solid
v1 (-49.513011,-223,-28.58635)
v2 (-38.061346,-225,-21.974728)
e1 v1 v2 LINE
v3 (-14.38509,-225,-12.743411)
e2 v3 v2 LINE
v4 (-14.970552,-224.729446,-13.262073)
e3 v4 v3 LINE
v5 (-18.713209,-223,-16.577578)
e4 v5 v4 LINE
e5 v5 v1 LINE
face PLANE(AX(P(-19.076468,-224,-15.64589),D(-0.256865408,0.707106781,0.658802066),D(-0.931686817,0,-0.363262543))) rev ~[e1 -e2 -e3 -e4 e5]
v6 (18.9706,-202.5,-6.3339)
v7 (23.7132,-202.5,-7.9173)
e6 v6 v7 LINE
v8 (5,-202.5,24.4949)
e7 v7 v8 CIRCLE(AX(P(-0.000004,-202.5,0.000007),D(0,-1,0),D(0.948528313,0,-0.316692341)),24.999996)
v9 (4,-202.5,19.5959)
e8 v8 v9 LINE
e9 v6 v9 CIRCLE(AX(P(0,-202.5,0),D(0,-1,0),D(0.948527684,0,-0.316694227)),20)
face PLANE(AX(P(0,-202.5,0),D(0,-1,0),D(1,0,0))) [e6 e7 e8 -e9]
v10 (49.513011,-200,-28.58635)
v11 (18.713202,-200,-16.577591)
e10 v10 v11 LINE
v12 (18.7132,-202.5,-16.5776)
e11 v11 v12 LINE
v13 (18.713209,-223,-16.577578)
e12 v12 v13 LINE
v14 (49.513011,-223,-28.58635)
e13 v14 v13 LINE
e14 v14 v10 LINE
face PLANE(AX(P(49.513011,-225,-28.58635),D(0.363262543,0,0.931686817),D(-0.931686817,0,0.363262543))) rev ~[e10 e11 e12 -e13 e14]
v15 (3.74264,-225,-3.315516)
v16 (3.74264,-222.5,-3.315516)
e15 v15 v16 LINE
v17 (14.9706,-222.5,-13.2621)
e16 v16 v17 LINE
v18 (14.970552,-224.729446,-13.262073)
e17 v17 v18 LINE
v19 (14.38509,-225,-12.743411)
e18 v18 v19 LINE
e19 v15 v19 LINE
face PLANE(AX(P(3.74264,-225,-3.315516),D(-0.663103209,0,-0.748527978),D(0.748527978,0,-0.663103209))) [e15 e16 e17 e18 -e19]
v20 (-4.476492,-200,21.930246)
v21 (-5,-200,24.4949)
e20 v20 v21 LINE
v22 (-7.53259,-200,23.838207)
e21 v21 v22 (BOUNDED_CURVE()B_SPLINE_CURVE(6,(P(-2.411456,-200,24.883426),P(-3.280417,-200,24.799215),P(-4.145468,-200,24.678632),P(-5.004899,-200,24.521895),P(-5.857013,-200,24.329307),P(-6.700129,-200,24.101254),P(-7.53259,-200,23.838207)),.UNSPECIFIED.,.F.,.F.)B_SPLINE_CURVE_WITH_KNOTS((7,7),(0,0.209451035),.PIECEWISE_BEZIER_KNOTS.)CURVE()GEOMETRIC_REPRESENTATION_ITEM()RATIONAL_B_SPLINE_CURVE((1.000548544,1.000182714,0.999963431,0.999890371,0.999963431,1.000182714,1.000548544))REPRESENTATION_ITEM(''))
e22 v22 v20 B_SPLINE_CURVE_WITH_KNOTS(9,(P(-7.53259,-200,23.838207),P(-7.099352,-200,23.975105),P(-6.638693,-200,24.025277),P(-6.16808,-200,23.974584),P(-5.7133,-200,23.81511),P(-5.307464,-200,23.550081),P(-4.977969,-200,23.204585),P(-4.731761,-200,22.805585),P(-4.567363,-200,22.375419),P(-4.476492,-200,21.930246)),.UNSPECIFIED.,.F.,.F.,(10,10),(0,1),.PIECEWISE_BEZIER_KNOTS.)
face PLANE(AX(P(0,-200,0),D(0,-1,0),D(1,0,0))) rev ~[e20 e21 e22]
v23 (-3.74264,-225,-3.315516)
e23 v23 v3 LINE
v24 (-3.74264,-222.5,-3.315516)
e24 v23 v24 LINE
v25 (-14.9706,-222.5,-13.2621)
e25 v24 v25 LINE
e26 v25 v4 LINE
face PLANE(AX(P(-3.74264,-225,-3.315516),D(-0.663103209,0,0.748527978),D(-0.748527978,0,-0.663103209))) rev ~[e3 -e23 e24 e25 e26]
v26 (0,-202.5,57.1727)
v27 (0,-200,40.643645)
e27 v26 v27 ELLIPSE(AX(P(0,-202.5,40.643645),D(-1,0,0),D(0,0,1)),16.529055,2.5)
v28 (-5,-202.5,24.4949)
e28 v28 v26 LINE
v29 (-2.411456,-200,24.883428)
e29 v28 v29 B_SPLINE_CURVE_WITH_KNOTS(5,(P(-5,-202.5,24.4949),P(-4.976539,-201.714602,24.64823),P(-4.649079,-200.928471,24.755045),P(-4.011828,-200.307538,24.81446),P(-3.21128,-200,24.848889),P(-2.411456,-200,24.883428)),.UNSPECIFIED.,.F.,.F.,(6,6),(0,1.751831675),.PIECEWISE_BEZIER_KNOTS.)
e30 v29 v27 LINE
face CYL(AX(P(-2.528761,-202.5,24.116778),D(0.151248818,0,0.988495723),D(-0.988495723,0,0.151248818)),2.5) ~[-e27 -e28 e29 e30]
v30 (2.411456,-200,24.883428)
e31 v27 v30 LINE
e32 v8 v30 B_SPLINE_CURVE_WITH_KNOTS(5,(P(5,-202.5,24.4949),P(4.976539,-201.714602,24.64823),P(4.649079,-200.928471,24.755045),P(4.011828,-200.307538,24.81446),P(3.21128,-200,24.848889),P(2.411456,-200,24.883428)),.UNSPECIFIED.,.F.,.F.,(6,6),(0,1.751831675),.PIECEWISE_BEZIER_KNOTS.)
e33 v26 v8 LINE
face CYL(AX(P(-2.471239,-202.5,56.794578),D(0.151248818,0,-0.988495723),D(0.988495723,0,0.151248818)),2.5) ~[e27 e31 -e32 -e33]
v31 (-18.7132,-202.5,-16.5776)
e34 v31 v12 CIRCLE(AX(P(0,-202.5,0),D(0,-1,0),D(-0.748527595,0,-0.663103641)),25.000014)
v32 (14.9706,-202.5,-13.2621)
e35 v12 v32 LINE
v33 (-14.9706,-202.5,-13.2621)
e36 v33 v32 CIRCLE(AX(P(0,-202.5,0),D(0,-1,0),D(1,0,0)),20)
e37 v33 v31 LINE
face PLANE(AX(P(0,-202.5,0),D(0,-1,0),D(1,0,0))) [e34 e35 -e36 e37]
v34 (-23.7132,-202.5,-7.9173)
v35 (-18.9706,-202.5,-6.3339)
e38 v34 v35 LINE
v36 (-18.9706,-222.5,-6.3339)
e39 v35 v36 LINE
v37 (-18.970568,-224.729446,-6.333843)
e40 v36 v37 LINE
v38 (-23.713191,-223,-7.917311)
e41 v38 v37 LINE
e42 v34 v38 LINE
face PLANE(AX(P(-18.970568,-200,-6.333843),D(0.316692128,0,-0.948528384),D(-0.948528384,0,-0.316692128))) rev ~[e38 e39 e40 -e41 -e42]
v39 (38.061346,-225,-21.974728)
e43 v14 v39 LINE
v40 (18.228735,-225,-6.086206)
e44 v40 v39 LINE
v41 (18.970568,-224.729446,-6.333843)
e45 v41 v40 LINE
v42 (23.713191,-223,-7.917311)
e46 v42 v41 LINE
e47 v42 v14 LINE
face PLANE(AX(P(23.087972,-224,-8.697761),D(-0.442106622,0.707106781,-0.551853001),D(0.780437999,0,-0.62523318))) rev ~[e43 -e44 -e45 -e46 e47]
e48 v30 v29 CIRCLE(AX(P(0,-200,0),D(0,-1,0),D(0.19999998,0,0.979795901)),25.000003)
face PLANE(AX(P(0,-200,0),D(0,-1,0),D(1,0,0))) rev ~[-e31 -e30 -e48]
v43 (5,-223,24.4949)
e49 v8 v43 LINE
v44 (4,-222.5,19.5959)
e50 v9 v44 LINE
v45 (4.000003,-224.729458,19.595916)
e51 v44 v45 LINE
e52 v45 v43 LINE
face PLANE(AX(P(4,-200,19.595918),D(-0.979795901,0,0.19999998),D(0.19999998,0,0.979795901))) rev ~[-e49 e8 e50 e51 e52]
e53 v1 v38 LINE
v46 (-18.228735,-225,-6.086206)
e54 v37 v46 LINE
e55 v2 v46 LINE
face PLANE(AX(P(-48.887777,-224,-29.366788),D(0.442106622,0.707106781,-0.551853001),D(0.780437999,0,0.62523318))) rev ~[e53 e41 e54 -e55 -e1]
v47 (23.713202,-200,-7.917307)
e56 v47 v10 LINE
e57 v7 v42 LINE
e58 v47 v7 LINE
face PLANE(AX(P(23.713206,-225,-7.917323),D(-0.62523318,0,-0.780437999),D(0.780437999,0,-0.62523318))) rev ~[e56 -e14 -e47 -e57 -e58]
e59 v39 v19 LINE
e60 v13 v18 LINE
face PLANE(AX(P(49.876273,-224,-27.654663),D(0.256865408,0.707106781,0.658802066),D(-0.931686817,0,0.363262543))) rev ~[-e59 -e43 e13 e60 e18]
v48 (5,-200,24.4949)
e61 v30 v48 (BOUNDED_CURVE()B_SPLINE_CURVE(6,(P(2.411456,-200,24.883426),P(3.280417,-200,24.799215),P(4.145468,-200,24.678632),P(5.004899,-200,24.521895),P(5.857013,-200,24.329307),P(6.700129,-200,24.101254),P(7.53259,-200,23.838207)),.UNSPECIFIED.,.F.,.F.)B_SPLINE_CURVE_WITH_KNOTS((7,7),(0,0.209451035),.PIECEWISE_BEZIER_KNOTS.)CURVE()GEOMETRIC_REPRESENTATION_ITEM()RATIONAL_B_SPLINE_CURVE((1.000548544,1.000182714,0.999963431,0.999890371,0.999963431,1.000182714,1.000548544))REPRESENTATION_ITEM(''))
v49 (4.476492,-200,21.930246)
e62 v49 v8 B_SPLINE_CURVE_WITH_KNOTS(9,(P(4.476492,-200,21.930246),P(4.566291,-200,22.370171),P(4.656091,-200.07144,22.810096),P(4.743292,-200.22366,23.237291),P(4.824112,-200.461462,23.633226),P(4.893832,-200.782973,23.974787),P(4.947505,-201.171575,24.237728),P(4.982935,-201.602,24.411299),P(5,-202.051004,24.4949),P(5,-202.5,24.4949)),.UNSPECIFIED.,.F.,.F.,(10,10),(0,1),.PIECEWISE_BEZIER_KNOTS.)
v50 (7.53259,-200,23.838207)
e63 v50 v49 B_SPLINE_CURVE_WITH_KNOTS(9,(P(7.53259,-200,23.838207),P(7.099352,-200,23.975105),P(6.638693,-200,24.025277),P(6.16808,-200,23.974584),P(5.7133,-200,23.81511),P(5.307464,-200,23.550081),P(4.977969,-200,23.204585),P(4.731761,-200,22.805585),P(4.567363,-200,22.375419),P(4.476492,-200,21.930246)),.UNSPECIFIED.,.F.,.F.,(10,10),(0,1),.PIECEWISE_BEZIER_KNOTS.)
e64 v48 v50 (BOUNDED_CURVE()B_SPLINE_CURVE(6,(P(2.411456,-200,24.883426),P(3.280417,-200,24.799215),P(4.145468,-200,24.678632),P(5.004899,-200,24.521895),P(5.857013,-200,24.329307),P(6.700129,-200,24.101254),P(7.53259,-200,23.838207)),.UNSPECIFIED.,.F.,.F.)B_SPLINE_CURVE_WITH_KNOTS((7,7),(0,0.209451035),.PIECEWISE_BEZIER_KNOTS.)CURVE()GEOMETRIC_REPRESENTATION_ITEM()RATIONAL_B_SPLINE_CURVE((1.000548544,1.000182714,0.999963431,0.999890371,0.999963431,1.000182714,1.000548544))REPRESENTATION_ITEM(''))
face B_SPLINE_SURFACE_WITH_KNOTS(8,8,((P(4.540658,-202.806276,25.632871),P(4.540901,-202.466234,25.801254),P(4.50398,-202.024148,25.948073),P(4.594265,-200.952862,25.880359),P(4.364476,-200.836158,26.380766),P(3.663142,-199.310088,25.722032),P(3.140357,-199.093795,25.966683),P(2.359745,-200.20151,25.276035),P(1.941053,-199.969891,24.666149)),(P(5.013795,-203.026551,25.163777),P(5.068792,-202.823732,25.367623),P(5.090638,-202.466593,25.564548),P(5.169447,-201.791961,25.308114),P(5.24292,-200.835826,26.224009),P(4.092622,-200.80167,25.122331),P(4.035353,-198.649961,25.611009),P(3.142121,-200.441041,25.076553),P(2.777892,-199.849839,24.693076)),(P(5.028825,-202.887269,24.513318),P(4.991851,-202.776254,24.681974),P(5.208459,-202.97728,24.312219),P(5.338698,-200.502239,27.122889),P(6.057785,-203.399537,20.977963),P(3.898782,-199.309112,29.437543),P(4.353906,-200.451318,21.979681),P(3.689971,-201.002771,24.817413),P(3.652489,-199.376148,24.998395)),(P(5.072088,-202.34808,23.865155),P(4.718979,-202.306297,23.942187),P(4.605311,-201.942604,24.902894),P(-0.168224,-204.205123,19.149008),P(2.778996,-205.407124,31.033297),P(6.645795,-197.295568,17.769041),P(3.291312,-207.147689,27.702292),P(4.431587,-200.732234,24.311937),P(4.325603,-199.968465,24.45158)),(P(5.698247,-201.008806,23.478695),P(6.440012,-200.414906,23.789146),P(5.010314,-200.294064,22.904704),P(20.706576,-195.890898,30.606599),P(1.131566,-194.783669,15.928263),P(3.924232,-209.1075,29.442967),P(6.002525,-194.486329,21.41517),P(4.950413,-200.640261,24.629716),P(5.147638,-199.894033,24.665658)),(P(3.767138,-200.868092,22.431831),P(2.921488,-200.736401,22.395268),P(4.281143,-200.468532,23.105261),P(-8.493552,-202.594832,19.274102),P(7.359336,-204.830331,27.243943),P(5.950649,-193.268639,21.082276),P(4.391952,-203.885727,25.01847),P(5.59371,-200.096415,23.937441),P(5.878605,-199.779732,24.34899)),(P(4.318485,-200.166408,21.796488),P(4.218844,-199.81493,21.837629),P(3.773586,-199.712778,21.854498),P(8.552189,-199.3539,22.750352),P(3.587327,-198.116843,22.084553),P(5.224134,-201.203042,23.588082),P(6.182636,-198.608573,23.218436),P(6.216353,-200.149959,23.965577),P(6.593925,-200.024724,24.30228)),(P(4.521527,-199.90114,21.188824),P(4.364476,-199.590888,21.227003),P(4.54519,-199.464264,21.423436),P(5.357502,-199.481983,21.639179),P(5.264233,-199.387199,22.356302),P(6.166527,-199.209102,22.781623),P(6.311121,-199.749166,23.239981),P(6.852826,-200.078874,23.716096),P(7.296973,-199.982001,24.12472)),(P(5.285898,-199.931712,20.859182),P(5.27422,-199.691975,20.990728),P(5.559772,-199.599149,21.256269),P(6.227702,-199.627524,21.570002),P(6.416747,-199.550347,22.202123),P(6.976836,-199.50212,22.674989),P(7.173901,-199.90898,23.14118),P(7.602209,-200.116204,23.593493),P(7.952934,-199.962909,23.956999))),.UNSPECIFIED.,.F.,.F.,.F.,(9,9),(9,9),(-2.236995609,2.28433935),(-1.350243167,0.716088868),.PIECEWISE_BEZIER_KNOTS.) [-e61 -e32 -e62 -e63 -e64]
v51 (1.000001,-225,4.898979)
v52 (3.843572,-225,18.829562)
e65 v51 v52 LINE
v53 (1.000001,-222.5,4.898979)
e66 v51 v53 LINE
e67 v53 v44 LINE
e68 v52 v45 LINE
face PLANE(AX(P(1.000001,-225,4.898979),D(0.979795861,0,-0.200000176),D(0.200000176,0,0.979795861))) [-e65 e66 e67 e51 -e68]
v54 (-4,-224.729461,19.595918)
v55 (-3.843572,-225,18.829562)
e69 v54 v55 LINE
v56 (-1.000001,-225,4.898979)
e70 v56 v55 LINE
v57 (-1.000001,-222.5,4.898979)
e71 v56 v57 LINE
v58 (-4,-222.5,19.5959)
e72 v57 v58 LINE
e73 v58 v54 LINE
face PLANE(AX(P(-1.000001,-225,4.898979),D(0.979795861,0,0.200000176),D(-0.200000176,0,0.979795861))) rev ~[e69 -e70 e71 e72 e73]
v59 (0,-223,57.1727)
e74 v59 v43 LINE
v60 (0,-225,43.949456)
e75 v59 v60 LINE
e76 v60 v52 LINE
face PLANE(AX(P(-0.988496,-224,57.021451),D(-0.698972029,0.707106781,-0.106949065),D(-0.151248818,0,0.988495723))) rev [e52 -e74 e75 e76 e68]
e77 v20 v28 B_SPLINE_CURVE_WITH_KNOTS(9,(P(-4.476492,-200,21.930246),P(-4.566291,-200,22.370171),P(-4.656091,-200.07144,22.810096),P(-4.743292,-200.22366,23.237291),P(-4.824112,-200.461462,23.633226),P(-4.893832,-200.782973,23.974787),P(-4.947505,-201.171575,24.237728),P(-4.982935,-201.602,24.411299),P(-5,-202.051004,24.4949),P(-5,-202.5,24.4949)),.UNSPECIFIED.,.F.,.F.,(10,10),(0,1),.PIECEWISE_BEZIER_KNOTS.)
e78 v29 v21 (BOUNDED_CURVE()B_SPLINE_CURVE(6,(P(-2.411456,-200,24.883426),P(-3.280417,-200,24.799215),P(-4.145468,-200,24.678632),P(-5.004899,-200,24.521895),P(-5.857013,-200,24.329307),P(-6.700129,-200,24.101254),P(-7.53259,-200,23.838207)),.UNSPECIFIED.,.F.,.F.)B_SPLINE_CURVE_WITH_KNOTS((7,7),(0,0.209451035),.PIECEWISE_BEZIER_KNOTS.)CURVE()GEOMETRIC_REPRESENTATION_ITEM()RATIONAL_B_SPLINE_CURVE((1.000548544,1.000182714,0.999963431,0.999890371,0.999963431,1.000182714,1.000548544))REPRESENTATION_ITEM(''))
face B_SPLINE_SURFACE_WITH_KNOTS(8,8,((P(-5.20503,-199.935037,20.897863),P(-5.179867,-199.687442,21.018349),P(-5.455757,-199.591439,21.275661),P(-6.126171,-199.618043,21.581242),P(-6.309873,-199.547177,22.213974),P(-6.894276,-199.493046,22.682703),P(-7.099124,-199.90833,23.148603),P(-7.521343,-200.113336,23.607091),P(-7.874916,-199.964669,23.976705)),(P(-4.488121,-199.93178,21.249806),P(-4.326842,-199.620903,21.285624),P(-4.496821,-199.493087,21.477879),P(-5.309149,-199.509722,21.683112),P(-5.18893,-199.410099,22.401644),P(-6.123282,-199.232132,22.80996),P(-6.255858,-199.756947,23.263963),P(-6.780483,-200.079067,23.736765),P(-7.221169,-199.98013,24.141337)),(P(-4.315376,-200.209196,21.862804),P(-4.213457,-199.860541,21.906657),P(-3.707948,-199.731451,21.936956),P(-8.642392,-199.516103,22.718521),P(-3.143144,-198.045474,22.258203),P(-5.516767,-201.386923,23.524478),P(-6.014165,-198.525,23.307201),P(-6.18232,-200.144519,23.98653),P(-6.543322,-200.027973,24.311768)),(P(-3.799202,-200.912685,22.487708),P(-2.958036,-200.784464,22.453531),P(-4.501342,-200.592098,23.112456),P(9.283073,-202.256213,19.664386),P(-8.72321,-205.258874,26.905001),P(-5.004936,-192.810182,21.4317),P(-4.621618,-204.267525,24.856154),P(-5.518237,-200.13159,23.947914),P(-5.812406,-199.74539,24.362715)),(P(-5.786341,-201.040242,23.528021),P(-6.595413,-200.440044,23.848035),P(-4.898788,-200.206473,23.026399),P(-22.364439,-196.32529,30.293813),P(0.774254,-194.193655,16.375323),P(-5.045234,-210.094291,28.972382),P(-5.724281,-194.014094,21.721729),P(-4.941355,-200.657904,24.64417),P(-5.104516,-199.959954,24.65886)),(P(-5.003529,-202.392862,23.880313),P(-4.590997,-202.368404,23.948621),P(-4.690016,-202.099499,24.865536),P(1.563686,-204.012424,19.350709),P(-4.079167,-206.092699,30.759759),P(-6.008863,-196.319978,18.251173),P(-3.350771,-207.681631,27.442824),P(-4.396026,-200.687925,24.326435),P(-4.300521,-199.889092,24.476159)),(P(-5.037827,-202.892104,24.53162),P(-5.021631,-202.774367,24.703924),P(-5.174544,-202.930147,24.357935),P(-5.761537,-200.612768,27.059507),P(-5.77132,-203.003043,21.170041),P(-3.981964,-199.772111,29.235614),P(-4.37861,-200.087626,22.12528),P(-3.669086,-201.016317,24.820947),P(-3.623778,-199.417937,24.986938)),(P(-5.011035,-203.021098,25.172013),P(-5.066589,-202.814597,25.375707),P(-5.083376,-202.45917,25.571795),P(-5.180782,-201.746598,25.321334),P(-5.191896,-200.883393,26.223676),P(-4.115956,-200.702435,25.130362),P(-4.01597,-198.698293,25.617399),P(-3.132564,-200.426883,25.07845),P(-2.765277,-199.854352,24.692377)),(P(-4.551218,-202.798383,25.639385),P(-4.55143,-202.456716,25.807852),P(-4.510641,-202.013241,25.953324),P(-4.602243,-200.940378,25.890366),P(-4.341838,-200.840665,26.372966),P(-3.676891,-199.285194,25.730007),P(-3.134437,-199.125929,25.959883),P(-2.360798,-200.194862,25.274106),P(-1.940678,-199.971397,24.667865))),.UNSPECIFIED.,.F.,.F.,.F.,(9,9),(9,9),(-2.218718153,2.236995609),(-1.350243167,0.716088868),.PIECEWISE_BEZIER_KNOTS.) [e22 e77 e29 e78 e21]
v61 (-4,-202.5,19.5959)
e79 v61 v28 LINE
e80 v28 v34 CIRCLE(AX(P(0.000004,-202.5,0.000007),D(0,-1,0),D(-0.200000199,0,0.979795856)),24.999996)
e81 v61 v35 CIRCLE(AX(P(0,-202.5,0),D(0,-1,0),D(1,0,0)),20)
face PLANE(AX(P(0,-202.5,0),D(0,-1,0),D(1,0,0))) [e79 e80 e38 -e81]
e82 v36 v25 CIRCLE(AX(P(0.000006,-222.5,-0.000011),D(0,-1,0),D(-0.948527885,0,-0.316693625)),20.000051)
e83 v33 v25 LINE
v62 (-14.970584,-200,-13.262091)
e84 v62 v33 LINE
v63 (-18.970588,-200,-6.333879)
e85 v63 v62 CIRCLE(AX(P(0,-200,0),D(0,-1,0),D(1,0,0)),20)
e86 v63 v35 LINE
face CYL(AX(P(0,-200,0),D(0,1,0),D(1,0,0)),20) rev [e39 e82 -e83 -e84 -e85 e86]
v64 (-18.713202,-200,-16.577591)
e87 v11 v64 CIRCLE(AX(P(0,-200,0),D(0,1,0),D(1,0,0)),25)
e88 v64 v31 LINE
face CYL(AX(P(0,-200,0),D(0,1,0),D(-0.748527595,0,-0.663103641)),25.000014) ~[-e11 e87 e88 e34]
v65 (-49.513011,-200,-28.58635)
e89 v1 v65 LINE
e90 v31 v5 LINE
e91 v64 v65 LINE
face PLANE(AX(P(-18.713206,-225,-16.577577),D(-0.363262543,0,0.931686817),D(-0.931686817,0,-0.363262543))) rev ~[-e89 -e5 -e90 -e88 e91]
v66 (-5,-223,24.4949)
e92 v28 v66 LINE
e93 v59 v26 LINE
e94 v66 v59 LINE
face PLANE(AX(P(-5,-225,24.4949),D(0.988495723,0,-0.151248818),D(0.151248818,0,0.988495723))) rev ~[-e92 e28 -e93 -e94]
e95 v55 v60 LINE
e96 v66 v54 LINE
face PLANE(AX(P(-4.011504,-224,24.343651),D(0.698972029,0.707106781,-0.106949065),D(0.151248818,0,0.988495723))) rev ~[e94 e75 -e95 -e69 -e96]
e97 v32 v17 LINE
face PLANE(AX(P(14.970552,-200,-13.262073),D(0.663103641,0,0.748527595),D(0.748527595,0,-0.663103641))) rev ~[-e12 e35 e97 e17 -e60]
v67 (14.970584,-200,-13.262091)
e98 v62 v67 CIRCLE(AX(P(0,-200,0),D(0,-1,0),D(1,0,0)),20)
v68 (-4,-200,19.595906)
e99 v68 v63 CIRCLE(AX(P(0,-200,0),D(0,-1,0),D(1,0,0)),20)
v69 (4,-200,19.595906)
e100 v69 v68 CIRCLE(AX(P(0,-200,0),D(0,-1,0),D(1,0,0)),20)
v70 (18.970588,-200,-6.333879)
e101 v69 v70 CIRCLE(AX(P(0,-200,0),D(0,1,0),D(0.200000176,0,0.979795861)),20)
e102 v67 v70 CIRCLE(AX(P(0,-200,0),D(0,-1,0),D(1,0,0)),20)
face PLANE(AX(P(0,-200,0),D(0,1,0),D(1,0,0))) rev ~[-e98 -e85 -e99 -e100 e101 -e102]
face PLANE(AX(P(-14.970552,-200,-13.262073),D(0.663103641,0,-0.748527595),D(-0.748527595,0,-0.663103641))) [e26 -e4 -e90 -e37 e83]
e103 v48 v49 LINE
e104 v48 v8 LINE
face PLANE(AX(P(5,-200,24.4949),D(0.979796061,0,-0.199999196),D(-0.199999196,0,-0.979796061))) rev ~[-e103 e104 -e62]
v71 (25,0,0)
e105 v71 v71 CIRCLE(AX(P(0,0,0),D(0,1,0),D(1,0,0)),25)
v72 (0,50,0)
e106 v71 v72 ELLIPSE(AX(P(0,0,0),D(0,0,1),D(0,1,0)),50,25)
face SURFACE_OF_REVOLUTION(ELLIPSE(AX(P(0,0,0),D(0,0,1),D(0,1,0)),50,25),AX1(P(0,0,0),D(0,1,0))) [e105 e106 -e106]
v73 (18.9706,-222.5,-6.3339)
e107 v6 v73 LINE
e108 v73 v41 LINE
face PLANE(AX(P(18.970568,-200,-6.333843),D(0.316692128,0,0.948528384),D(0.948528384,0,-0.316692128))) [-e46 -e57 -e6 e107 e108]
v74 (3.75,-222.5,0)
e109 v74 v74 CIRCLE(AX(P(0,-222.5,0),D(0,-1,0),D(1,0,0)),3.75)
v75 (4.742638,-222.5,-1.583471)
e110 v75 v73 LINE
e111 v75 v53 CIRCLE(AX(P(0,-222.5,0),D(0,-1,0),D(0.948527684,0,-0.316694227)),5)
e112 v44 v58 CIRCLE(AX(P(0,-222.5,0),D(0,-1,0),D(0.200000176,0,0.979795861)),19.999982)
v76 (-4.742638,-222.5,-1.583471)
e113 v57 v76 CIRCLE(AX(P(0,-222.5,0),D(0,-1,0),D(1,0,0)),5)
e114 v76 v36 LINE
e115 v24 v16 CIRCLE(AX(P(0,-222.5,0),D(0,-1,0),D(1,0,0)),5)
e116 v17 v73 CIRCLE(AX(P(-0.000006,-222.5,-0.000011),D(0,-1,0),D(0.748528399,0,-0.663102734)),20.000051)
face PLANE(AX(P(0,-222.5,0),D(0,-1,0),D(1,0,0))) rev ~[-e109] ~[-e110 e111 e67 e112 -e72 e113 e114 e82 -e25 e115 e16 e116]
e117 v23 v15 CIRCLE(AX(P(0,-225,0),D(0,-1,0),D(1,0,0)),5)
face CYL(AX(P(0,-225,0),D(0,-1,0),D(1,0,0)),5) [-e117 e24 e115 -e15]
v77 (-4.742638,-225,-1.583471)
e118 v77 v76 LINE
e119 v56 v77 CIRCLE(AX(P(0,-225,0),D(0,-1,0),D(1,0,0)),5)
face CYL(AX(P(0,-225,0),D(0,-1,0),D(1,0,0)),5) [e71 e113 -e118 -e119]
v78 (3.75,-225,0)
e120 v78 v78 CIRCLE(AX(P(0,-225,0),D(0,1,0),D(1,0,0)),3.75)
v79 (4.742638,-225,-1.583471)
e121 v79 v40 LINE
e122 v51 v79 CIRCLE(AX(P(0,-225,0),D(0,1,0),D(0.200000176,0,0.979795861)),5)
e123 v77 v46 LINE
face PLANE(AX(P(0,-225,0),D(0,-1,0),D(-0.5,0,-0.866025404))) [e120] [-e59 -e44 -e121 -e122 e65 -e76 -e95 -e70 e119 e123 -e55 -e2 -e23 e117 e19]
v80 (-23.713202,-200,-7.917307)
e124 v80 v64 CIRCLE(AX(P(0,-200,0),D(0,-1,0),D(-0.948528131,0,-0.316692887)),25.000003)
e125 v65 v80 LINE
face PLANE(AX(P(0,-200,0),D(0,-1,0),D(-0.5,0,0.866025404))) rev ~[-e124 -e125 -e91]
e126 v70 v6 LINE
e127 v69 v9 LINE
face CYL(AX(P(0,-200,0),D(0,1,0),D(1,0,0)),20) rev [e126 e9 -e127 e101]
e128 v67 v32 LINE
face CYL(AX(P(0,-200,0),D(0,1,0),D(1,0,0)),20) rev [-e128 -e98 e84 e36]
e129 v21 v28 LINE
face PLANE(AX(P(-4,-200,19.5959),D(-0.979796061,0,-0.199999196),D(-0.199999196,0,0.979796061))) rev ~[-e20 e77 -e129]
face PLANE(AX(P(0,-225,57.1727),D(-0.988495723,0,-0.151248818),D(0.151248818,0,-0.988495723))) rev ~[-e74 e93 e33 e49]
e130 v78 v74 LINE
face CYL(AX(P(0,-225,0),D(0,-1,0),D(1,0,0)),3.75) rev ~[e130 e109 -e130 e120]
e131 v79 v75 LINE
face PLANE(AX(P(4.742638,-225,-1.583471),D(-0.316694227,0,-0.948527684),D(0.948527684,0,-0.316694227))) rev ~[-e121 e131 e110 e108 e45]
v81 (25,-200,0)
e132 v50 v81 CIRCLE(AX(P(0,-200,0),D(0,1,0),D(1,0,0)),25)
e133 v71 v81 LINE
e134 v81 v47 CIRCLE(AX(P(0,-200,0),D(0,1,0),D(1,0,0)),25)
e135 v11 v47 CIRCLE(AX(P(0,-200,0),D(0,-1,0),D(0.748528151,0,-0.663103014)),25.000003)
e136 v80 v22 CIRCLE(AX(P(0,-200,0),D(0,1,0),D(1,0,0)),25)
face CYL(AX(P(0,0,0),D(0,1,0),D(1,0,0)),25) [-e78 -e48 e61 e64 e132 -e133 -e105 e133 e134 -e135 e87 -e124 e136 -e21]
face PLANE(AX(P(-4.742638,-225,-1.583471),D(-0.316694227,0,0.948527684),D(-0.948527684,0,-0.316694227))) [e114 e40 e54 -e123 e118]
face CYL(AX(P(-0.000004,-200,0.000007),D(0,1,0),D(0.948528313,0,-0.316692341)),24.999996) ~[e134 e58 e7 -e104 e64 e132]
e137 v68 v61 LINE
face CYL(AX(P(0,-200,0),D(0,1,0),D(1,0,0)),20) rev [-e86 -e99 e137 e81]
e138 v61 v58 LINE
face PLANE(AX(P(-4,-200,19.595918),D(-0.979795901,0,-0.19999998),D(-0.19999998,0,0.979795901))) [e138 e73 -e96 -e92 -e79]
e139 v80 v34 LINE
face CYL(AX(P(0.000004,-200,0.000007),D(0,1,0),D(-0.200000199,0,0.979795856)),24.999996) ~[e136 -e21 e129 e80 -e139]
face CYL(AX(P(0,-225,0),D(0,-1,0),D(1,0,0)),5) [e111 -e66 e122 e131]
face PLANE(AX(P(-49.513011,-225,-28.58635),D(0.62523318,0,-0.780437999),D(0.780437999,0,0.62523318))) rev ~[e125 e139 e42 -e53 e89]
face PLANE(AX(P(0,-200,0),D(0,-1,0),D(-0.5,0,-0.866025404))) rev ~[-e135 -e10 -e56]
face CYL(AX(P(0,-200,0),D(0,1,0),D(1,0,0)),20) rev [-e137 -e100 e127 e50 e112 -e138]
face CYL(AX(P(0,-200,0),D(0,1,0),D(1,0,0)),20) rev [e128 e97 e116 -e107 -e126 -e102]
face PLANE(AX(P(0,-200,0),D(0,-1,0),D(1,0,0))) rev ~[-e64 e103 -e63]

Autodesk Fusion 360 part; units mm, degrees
sketch "Sketch1" plane through (0, 0, 0) normal (0, 0, 1) x (1, 0, 0)
  ellipse E0 centre (0, 0) end of major axis (0, 50) minor radius 25
  line L0 (0, -50) -> (0, 50)
  line L1 (25, 0) -> (-25, 0)
  line L2 (-25, 0) -> (25, 0)
  line L3 (0, 0) -> (0, 50)
  dimension "d1" = 100
  dimension "d2" = 50
revolve "Revolve1" add sketch "Sketch1" angle 360 about axis through (0, 0, 0) along (0, 1, 0) contours E0 L0 L1 L2 L3 picked at (5.2231, 29.6534)
extrude "Extrude1" add 1 faces at (-6.7759, 0, 1.242) along direction (0, -1, 0) blind 200
sketch "Sketch2" plane through (0, -200, 0) normal (0, -1, 0) x (1, 0, 0)
  circle A0 centre (0, 0) radius 25
  circle A1 centre (0, 0) radius 20
  line L0 (0, 0) -> (0, 25) construction
  line L1 (0, 0) -> (-5, 24.4949)
  line L2 (0, 0) -> (5, 24.4949)
  line L3 (0, 0) -> (-23.7132, -7.9173)
  line L4 (0, 0) -> (-18.7132, -16.5776)
  line L5 (0, 0) -> (18.7132, -16.5776)
  line L6 (0, 0) -> (23.7132, -7.9173)
  dimension "d6" = 40
  dimension "d9" = 10
  dimension "d10" = 5
  dimension "d12" = 360
extrude "Extrude2" add sketch "Sketch2" along normal blind 25 contours A0 A1 L1 L2 | A0 A1 L5 L6 | A0 A1 L3 L4
sketch "Sketch3" plane through (0, -225, 0) normal (0, -1, 0) x (1, 0, 0)
  line L0 (4, 19.5959) -> (5, 24.4949)
  arc A0 (5, 24.4949) -> (-5, 24.4949) centre (0, 0) ccw
  line L1 (-5, 24.4949) -> (-4, 19.5959)
  arc A1 (4, 19.5959) -> (-4, 19.5959) centre (0, 0) ccw
  circle A2 centre (0, 0) radius 5
  line L2 (0, 0) -> (-4, 19.5959)
  line L3 (0, 0) -> (4, 19.5959)
  arc A3 (-23.7132, -7.9173) -> (-18.7132, -16.5776) centre (0, 0) ccw
  line L4 (-18.7132, -16.5776) -> (-14.9706, -13.2621)
  arc A4 (-18.9706, -6.3339) -> (-14.9706, -13.2621) centre (0, 0) ccw
  line L5 (-18.9706, -6.3339) -> (-23.7132, -7.9173)
  arc A5 (18.7132, -16.5776) -> (23.7132, -7.9173) centre (0, 0) ccw
  line L6 (23.7132, -7.9173) -> (18.9706, -6.3339)
  arc A6 (14.9706, -13.2621) -> (18.9706, -6.3339) centre (0, 0) ccw
  line L7 (14.9706, -13.2621) -> (18.7132, -16.5776)
  line L8 (0, 0) -> (-18.9706, -6.3339)
  line L9 (0, 0) -> (-14.9706, -13.2621)
  line L10 (0, 0) -> (14.9706, -13.2621)
  line L11 (0, 0) -> (18.9706, -6.3339)
  circle A7 centre (0, 0) radius 3.75
  dimension "d15" = 10
  dimension "d16" = 7.5
extrude "Extrude3" add sketch "Sketch3" against normal blind 2.5 contours A1 A2 L2 L3 | A2 L2 L3 A7 | A2 L3 L11 A7 | A2 L2 L8 A7 | A2 L8 L9 A7 | A2 A4 L8 L9 | A2 A6 L10 L11 | A2 L10 L11 A7 | A2 L9 L10 A7
sketch "Sketch4" plane through (0, -225, 0) normal (0, -1, 0) x (1, 0, 0)
  circle A0 centre (0, 0) radius 3.75
  arc A1 (18.7132, -16.5776) -> (23.7132, -7.9173) centre (0, 0) ccw
  line L0 (23.7132, -7.9173) -> (4.7426, -1.5835)
  arc A2 (4.7426, -1.5835) -> (1, 4.899) centre (0, 0) ccw
  line L1 (1, 4.899) -> (5, 24.4949)
  arc A3 (5, 24.4949) -> (-5, 24.4949) centre (0, 0) ccw
  line L2 (-5, 24.4949) -> (-1, 4.899)
  arc A4 (-1, 4.899) -> (-4.7426, -1.5835) centre (0, 0) ccw
  line L3 (-4.7426, -1.5835) -> (-23.7132, -7.9173)
  arc A5 (-23.7132, -7.9173) -> (-18.7132, -16.5776) centre (0, 0) ccw
  line L4 (-18.7132, -16.5776) -> (-3.7426, -3.3155)
  arc A6 (-3.7426, -3.3155) -> (3.7426, -3.3155) centre (0, 0) ccw
  line L5 (3.7426, -3.3155) -> (18.7132, -16.5776)
  line L6 (-5, 24.4949) -> (0, 57.1727)
  line L7 (0, 57.1727) -> (5, 24.4949)
extrude "Extrude4" add sketch "Sketch4" against normal up to surface (25 mm away) contours A3 L6 L7
fillet "Fillet1" radius 2.5 2 edges at (-2.5, -200, 40.8338) (2.5, -200, 40.8338)
chamfer "Chamfer1" distance 2 angle 45 2 edges at (-2.5, -225, 40.8338) (2.5, -225, 40.8338)
pattern_circular "C-Pattern1" count 3 over 360 about axis through (0, 0, 0) along (0, -1, 0) of "Extrude4", "Chamfer1"
sketch "Sketch5" plane through (0, -200, 0) normal (0, -1, 0) x (1, 0, 0)
  line L0 (-14.9706, -13.2621) -> (-18.7132, -16.5776)
  arc A0 (-18.7132, -16.5776) -> (18.7132, -16.5776) centre (0, 0) ccw
  line L1 (18.7132, -16.5776) -> (14.9706, -13.2621)
  arc A1 (14.9706, -13.2621) -> (18.9706, -6.3339) centre (0, 0) ccw
  line L2 (18.9706, -6.3339) -> (23.7132, -7.9173)
  arc A2 (23.7132, -7.9173) -> (5, 24.4949) centre (0, 0) ccw
  line L3 (5, 24.4949) -> (4, 19.5959)
  arc A3 (4, 19.5959) -> (-4, 19.5959) centre (0, 0) ccw
  line L4 (-4, 19.5959) -> (-5, 24.4949)
  arc A4 (-5, 24.4949) -> (-23.7132, -7.9173) centre (0, 0) ccw
  line L5 (-23.7132, -7.9173) -> (-18.9706, -6.3339)
  arc A5 (-18.9706, -6.3339) -> (-14.9706, -13.2621) centre (0, 0) ccw
  arc A6 (-18.9706, -6.3339) -> (-14.9706, -13.2621) centre (0, 0) ccw
  circle A7 centre (0, 0) radius 20
extrude "Extrude5" add sketch "Sketch5" along normal blind 2.5 contours L0 A0 L1 A7 | L4 A4 L5 A7 | L2 A2 L3 A7
equation "d7 = ( 360 / 3 ) * 1 deg"
equation "d10 = d9 / 2"
